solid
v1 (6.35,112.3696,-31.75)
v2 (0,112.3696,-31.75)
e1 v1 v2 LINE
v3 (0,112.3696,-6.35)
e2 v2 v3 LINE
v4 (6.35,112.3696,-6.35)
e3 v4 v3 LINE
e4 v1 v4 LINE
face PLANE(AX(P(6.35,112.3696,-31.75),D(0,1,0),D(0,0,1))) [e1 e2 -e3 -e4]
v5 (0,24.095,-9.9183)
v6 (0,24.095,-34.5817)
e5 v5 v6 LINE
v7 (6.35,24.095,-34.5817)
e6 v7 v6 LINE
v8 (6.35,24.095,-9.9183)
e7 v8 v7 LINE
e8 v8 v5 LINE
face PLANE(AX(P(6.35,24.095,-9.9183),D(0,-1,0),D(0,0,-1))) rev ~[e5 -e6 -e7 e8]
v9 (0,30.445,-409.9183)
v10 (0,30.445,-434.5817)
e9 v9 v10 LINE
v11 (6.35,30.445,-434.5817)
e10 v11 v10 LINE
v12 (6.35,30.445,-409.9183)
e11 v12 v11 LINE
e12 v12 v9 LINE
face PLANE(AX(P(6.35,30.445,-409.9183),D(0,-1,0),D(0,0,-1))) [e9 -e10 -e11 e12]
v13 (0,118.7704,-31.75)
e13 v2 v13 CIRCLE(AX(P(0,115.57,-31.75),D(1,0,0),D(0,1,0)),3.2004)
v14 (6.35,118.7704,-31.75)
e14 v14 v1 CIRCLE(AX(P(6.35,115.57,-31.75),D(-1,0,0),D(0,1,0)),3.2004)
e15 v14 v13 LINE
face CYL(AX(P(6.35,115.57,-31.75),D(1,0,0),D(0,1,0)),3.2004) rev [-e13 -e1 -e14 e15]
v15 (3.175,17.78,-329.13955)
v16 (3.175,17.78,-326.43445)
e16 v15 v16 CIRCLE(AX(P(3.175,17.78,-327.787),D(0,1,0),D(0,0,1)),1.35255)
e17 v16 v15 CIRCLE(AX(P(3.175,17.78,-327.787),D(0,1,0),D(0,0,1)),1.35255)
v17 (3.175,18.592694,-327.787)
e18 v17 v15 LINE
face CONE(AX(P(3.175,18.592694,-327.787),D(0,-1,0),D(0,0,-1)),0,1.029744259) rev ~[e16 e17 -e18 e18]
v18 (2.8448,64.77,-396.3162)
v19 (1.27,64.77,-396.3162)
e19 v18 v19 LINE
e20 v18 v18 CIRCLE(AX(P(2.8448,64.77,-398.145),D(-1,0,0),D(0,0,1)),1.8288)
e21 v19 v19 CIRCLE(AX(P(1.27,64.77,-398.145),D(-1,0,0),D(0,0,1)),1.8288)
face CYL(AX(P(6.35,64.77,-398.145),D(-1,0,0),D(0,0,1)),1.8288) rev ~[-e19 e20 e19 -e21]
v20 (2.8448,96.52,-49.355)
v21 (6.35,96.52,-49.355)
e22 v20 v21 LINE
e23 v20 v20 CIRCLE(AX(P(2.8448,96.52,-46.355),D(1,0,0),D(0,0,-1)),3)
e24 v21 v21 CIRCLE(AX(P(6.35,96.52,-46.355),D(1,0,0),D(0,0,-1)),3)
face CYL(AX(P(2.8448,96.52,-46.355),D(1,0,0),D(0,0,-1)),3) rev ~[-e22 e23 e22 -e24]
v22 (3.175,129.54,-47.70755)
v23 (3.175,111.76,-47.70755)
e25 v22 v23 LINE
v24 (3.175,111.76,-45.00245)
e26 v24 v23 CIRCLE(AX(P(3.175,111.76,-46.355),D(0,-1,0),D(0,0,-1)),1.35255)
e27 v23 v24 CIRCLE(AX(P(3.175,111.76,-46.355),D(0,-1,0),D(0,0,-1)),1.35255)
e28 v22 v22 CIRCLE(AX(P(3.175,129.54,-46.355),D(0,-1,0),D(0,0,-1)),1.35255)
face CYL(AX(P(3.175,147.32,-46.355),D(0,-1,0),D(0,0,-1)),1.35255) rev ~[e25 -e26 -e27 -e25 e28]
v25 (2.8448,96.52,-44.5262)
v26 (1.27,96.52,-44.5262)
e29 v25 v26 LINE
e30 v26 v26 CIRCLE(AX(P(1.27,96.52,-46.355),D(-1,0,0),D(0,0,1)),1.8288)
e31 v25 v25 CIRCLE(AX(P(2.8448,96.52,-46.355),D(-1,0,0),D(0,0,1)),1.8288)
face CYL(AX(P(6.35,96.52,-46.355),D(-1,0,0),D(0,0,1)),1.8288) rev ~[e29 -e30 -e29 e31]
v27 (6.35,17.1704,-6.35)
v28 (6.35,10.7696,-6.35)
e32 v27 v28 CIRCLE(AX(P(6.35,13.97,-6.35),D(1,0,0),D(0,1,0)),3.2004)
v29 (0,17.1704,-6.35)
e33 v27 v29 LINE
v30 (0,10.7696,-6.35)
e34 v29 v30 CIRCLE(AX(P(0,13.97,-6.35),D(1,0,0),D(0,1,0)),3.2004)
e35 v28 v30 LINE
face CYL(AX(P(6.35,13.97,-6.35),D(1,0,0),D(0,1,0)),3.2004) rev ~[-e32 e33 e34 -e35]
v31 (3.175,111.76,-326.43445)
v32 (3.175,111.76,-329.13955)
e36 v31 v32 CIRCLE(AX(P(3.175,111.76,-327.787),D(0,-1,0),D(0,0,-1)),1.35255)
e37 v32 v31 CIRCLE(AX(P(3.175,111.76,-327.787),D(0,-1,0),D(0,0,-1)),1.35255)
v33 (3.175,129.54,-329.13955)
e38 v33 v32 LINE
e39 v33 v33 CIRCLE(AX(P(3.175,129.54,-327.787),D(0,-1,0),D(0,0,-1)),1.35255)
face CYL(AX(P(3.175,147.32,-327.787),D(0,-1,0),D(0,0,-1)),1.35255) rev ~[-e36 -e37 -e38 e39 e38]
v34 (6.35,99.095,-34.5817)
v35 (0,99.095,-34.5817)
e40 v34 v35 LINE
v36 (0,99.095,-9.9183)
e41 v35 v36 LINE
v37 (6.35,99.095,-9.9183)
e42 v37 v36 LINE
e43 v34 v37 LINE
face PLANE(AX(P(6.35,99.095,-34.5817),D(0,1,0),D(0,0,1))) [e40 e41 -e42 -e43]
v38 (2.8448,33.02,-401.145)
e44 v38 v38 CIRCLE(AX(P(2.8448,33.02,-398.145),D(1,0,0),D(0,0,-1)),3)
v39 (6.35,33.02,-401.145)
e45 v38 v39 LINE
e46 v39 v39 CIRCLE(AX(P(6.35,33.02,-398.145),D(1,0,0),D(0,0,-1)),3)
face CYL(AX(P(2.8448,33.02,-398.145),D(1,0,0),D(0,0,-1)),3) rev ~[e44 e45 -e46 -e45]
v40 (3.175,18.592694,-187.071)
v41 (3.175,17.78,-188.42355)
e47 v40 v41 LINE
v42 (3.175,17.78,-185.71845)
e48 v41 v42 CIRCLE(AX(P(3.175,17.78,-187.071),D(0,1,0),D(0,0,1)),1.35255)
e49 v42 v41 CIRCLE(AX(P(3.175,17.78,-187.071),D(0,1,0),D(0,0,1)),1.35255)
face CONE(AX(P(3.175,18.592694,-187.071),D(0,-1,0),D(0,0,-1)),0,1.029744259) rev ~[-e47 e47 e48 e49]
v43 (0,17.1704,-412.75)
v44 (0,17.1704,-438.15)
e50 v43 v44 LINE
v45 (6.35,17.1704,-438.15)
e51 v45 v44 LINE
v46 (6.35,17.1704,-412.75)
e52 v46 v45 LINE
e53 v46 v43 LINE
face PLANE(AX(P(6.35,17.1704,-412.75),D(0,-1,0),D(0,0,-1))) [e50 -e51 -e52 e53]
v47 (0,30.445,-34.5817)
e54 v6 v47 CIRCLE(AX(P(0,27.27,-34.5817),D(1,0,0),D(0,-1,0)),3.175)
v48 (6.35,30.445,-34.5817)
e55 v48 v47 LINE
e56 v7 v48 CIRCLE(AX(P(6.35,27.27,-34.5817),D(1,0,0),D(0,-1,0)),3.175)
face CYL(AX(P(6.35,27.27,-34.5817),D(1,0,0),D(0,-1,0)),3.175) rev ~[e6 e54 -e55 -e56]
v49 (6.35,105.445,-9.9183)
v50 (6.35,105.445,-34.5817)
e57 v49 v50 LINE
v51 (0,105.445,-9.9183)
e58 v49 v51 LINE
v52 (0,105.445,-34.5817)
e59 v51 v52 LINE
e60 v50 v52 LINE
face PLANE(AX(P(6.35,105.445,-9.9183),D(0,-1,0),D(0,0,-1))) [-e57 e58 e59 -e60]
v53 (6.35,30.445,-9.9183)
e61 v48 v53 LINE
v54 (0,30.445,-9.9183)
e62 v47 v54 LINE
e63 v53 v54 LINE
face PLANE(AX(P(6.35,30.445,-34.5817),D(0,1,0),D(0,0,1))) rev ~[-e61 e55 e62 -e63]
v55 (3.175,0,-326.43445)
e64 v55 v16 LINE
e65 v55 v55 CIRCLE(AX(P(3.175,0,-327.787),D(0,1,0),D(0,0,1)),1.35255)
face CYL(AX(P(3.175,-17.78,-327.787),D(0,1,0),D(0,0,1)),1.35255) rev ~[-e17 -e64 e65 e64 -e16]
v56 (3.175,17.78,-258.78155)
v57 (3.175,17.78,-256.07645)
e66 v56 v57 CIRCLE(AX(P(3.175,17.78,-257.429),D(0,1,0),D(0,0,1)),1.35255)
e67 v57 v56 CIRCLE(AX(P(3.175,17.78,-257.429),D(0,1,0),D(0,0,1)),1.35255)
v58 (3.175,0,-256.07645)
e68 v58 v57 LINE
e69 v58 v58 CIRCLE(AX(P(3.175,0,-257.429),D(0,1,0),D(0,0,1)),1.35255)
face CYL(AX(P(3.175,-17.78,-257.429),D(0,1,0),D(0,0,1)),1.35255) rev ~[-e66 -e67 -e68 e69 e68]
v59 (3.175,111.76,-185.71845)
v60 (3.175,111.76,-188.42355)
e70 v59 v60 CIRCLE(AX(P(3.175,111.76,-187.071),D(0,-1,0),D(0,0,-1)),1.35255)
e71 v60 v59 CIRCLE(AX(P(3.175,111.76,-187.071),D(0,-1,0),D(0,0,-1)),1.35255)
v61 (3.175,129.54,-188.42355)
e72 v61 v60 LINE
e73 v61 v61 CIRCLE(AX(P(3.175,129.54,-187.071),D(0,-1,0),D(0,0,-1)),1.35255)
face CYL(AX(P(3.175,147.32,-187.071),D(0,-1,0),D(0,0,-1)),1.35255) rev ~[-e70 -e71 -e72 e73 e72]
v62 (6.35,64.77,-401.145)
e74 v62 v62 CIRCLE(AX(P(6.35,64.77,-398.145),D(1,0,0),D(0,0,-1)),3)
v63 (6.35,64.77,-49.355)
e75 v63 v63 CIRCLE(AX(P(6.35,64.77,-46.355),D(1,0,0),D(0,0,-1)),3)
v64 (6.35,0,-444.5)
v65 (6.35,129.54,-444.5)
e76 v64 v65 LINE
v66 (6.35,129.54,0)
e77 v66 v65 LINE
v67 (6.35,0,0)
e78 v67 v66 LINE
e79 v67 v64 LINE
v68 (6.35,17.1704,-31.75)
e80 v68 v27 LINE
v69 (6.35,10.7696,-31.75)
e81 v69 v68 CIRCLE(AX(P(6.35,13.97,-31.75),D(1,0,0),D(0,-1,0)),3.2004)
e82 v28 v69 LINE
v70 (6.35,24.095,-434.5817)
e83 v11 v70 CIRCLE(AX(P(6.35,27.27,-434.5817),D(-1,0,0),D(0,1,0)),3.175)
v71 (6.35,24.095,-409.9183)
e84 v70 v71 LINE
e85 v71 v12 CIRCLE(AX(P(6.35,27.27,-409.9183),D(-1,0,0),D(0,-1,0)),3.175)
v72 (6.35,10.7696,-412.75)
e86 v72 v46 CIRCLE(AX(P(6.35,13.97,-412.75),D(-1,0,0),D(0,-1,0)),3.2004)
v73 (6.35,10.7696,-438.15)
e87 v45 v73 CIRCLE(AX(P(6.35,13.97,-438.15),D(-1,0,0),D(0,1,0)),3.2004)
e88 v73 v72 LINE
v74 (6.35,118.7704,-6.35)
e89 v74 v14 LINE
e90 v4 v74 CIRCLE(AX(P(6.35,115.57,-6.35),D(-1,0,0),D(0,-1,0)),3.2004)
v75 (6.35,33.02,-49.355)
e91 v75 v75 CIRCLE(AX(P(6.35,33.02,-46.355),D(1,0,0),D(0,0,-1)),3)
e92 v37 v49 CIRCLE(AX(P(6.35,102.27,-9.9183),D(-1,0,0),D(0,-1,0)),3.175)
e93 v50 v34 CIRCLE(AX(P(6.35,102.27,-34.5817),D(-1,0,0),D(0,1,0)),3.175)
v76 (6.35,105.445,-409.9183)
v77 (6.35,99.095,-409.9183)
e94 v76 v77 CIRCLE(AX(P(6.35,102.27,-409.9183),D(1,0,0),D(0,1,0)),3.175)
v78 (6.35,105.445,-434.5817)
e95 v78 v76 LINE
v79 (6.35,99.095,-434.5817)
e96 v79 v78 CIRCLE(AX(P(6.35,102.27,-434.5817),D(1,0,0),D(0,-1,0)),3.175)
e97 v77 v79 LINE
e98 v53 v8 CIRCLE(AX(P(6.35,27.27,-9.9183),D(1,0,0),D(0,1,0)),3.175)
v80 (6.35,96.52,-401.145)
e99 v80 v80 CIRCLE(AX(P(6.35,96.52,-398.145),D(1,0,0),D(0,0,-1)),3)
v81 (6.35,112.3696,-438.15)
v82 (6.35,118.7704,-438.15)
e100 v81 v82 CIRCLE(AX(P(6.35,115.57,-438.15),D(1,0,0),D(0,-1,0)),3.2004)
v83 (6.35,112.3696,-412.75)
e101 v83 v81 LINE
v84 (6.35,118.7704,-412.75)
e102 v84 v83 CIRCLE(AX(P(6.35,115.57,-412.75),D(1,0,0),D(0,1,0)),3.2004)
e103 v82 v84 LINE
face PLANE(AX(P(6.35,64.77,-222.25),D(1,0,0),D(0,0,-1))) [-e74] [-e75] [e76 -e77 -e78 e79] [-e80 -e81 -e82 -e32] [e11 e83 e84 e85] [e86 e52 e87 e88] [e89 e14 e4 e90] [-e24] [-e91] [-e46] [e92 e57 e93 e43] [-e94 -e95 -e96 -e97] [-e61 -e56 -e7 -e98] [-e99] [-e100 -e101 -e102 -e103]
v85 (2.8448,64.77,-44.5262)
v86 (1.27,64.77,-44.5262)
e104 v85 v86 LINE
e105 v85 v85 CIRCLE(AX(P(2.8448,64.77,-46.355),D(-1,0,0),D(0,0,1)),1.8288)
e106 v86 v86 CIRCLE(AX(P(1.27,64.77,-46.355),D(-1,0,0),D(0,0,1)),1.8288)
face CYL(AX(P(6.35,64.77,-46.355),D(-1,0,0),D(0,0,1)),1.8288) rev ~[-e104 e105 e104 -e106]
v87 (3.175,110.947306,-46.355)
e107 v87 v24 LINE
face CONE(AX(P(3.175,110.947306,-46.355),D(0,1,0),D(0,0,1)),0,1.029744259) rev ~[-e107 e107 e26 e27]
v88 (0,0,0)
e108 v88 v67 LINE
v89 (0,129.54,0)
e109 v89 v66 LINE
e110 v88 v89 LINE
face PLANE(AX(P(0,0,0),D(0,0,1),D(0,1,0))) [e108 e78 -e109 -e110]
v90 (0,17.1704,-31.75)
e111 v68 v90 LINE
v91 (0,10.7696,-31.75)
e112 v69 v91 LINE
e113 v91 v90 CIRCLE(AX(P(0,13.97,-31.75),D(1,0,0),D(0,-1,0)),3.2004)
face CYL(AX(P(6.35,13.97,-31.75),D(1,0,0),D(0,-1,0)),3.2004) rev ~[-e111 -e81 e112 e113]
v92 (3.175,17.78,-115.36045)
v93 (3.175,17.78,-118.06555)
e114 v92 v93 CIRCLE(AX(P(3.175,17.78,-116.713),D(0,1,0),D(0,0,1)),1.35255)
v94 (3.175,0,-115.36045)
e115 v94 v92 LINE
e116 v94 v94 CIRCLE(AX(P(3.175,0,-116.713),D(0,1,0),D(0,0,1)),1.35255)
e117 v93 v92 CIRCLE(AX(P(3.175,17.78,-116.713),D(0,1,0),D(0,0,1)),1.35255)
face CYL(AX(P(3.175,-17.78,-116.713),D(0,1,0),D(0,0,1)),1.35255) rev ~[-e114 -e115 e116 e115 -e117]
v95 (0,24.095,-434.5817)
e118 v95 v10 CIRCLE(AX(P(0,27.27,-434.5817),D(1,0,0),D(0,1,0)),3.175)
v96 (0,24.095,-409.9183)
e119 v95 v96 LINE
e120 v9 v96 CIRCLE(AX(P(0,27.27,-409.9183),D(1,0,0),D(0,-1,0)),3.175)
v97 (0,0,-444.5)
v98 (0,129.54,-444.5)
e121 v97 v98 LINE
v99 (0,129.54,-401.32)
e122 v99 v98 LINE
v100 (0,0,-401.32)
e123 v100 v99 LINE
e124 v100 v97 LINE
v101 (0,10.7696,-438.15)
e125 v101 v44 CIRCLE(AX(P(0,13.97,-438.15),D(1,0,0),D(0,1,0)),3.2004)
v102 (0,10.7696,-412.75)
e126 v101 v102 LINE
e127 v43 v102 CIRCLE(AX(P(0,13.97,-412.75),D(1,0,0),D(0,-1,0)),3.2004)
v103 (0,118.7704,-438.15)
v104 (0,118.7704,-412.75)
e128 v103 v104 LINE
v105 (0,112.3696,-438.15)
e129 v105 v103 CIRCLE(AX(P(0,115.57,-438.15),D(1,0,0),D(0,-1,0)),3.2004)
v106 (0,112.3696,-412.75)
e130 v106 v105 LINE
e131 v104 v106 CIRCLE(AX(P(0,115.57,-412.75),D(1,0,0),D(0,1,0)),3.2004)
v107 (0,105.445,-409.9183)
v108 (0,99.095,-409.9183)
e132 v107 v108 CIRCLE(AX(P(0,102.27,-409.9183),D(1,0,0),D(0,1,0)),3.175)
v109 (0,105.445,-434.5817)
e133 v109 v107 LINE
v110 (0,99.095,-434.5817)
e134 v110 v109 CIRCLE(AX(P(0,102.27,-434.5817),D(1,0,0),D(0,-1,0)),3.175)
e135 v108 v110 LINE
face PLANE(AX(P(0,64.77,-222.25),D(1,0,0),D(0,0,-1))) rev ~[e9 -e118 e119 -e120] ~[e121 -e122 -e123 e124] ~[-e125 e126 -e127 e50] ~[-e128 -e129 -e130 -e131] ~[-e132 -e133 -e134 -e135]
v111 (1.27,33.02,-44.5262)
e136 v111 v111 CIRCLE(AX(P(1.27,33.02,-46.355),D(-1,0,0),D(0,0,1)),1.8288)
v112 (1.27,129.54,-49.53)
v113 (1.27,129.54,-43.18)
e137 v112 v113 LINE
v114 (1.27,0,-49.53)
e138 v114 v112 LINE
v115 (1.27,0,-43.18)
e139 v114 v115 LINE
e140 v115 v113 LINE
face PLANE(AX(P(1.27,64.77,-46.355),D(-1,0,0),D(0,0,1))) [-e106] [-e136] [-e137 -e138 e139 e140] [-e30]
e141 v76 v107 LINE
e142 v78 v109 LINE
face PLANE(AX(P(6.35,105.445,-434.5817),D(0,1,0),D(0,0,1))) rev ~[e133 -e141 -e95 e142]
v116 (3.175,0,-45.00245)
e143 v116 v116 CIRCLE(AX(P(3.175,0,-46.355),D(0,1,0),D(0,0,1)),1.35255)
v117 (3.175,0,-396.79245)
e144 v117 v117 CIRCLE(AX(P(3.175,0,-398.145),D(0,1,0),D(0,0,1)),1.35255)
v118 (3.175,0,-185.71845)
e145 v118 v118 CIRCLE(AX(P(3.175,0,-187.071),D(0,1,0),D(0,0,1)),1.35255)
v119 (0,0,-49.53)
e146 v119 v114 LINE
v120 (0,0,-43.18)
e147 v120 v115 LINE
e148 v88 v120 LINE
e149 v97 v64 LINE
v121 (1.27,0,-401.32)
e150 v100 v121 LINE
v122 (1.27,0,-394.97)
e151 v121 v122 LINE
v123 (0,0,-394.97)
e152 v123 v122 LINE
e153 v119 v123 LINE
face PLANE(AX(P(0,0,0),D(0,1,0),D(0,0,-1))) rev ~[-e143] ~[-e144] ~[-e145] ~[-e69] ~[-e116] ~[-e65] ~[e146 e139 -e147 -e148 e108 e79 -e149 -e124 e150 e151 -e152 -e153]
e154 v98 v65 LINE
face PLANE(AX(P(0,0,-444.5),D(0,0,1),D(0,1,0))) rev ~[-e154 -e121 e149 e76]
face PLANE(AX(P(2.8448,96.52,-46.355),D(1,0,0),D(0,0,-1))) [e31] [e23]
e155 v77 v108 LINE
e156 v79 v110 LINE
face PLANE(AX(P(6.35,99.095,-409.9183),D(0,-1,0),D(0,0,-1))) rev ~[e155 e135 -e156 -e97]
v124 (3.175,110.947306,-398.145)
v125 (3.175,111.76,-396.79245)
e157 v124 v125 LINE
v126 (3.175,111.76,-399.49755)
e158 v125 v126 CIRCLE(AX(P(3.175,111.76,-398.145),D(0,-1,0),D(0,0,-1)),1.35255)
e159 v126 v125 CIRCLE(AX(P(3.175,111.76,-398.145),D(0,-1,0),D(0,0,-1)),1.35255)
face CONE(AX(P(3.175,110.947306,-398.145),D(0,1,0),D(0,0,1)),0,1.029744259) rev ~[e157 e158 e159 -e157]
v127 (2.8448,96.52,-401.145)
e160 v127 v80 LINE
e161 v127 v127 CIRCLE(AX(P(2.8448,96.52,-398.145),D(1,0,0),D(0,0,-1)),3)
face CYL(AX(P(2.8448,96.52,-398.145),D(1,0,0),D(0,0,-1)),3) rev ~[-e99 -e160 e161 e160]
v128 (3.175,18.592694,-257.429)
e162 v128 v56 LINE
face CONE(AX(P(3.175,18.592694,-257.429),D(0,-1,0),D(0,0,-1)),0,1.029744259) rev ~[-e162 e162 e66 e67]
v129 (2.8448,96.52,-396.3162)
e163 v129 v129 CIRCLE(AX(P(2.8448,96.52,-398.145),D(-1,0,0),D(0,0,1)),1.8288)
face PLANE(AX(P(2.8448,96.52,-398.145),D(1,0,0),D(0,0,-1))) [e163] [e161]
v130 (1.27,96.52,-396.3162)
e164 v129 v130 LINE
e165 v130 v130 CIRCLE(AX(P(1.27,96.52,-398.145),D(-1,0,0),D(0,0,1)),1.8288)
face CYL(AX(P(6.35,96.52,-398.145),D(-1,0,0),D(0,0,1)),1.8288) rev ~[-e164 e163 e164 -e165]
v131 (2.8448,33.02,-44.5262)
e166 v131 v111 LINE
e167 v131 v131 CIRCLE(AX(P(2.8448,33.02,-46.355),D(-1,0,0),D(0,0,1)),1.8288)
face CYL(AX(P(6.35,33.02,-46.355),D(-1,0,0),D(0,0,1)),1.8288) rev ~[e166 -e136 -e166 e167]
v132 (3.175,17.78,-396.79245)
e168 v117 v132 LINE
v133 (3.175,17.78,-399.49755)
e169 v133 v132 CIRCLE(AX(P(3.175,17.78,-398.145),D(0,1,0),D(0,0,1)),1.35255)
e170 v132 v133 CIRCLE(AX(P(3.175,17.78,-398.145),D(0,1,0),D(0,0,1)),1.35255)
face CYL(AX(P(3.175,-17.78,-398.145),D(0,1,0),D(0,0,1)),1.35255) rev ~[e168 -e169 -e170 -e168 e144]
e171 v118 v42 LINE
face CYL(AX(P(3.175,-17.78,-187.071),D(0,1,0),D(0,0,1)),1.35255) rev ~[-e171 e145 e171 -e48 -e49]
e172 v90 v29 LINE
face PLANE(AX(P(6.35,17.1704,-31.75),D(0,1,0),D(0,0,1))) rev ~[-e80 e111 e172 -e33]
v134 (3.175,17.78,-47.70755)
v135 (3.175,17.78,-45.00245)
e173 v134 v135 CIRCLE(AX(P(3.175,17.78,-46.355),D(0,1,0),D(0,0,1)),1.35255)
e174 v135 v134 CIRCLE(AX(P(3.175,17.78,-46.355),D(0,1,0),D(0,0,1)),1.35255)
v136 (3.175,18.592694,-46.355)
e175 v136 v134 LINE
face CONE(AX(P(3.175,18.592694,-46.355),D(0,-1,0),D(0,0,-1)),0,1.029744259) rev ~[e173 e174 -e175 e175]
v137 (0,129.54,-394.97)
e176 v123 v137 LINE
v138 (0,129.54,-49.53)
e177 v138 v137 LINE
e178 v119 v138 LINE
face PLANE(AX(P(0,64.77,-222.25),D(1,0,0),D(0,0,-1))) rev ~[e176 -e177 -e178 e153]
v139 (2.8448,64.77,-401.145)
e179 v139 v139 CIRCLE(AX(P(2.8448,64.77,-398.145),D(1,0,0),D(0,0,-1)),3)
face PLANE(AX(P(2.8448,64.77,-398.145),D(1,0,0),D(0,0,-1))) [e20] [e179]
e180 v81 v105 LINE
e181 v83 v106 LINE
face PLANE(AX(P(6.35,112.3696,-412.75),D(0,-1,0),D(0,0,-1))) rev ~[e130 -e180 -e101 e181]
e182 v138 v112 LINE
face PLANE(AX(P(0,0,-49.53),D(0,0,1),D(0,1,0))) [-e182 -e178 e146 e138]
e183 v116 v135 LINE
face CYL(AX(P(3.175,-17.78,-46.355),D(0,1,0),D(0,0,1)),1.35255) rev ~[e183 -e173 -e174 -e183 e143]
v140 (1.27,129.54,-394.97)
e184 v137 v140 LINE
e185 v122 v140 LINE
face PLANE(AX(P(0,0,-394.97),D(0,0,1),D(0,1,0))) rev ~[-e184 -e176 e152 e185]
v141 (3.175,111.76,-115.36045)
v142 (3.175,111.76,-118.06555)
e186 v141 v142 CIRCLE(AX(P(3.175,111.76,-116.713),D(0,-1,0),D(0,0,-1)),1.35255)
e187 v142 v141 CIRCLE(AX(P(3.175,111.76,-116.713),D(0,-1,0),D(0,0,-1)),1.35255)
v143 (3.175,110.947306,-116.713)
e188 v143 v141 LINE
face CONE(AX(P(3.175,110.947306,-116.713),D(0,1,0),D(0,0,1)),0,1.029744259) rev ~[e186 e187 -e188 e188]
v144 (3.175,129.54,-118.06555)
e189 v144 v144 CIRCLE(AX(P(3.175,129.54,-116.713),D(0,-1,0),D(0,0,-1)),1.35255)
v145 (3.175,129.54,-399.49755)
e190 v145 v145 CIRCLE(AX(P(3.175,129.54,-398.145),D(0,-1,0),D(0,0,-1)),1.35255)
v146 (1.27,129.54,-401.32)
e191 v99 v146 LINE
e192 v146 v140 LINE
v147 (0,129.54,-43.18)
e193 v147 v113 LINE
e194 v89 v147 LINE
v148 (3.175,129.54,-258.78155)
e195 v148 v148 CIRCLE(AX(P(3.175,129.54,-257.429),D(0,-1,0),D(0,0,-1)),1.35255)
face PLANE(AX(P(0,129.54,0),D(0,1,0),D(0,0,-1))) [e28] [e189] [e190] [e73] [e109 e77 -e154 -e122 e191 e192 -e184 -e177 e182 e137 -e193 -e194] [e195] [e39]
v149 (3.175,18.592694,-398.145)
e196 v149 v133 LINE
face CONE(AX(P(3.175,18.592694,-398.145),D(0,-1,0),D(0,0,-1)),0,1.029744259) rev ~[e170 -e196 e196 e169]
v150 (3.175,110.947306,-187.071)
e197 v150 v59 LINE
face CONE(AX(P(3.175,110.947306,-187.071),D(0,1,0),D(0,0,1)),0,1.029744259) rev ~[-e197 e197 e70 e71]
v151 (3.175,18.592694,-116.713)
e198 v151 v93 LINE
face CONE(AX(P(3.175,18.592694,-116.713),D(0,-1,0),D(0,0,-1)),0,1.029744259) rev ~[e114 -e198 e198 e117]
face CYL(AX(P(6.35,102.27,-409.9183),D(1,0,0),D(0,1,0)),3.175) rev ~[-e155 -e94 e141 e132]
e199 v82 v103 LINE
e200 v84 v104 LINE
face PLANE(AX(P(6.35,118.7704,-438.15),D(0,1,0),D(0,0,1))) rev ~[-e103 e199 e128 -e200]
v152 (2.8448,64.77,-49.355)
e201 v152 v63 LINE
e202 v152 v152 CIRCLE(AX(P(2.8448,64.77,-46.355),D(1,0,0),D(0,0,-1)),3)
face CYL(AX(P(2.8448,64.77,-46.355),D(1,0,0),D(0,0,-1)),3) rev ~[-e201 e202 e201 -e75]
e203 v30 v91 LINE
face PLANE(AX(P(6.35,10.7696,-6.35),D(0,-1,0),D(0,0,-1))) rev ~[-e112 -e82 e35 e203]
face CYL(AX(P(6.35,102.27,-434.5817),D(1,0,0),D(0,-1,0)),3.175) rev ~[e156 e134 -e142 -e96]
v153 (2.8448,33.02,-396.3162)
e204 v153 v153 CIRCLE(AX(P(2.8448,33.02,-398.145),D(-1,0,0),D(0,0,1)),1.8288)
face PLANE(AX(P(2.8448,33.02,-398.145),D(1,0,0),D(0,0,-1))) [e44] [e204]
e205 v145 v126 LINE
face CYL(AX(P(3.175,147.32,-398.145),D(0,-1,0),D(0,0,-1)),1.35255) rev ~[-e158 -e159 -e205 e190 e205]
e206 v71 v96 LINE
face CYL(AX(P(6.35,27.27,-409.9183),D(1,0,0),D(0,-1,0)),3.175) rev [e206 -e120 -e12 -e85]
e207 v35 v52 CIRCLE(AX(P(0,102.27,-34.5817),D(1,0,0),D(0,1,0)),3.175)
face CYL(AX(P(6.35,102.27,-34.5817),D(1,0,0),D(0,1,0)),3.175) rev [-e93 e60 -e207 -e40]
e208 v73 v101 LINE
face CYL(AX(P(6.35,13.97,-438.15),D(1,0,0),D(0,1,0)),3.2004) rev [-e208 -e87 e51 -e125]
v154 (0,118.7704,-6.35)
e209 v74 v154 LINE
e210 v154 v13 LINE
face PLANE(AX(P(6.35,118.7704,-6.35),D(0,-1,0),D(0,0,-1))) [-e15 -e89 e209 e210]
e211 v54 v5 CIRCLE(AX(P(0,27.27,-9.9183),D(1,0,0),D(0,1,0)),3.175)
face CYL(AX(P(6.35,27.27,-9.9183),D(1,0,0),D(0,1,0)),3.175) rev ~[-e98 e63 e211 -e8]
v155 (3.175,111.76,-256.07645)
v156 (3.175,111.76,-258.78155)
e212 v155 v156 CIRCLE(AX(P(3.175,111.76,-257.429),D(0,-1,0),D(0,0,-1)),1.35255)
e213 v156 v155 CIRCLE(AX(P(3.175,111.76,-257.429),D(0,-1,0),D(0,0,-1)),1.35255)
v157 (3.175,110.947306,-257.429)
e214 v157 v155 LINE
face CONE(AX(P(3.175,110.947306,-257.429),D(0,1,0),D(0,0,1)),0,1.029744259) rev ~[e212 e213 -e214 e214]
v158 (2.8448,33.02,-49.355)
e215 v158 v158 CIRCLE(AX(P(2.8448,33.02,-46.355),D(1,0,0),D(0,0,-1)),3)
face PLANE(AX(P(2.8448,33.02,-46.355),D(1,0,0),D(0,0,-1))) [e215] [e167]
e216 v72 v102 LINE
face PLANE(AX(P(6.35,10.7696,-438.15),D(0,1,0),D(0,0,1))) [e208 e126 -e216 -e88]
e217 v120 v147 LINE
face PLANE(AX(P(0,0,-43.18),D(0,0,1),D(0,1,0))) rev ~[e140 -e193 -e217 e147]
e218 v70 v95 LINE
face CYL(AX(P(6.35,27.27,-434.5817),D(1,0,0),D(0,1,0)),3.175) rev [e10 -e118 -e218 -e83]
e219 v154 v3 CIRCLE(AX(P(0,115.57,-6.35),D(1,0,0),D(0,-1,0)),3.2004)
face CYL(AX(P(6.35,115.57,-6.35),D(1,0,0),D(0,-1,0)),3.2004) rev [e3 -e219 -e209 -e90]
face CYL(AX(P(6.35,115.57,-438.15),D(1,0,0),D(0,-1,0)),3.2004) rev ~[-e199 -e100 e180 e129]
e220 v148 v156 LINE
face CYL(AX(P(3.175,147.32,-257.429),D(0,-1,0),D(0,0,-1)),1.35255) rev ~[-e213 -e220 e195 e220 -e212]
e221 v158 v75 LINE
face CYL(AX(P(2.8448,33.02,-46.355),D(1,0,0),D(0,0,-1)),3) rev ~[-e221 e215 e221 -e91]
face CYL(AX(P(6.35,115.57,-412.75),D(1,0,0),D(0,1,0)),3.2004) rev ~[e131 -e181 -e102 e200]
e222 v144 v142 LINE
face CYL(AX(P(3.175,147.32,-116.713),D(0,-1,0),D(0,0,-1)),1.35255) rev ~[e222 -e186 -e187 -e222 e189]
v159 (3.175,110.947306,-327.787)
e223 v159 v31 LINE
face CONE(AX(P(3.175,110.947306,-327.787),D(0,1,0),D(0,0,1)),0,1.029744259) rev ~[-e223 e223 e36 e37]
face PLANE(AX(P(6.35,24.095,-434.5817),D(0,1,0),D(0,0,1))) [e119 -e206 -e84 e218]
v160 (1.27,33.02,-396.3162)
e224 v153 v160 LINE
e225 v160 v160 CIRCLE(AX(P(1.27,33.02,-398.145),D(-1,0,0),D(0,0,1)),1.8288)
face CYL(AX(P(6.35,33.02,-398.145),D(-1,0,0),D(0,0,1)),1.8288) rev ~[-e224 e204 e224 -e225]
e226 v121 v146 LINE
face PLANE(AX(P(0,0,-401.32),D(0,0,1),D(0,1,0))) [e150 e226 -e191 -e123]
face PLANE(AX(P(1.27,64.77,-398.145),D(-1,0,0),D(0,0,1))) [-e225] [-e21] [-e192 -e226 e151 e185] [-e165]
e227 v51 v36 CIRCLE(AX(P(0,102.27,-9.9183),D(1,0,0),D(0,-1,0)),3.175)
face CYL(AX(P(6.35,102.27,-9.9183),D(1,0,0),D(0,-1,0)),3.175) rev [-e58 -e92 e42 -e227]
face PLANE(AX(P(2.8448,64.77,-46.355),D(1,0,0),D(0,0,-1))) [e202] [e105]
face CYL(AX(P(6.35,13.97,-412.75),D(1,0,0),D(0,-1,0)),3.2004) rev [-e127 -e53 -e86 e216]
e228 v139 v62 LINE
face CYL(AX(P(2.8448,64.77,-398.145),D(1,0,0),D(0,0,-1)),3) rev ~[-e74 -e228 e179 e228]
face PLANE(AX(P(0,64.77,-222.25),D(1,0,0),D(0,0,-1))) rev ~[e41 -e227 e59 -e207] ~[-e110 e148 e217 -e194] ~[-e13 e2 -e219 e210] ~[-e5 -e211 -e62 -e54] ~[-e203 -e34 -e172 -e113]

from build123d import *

# Parameters (mm, degrees)
SKETCH1_W                                      = 444.5
SKETCH1_H                                      = 129.54
BOSS_EXTRUDE1_DEPTH                            = 6.35
CBORE_FOR_6_SOCKET_HEAD_CAP_SCREW1_D           = 3.6576
CBORE_FOR_6_SOCKET_HEAD_CAP_SCREW1_CBORE_D     = 5.999999938
CBORE_FOR_6_SOCKET_HEAD_CAP_SCREW1_CBORE_DEPTH = 3.5052
CUT_EXTRUDE1_DEPTH                             = 7.35
TAP_DRILL_FOR_6_32_TAP1_D                      = 2.7051
TAP_DRILL_FOR_6_32_TAP1_DEPTH                  = 17.78
TAP_DRILL_FOR_6_32_TAP1_TIP                    = 0.81269403
TAP_DRILL_FOR_6_32_TAP2_D                      = 2.7051
TAP_DRILL_FOR_6_32_TAP2_DEPTH                  = 17.78
TAP_DRILL_FOR_6_32_TAP2_TIP                    = 0.81269403
SKETCH21_W                                     = 6.35
SKETCH21_H                                     = 129.54
CUT_EXTRUDE2_DEPTH                             = 1.27


with BuildPart() as part:
    # Sketch1 → Boss-Extrude1 (new body)
    with BuildSketch(Plane(origin=(0, 0, 0), x_dir=(0, 0, -1), z_dir=(1, 0, 0))):
        with Locations((222.25, 64.77)):
            Rectangle(SKETCH1_W, SKETCH1_H)
    extrude(amount=BOSS_EXTRUDE1_DEPTH)

    # CBORE for #6 Socket Head Cap Screw1 (through all)
    with Locations(Plane(origin=(6.35, 0, 0), x_dir=(0, 0, -1), z_dir=(1, 0, 0))):
        with Locations((46.355, 64.77), (398.145, 64.77), (46.355, 96.52), (46.355, 33.02), (398.145, 96.52), (398.145, 33.02)):
            CounterBoreHole(CBORE_FOR_6_SOCKET_HEAD_CAP_SCREW1_D / 2, CBORE_FOR_6_SOCKET_HEAD_CAP_SCREW1_CBORE_D / 2, CBORE_FOR_6_SOCKET_HEAD_CAP_SCREW1_CBORE_DEPTH)

    # Sketch16 → Cut-Extrude1 (cut, through all)
    with BuildSketch(Plane(origin=(6.35, 0, 0), x_dir=(0, 0, -1), z_dir=(1, 0, 0))):
        with BuildLine():
            Line((6.35, 118.7704), (31.75, 118.7704))
            ThreePointArc((31.75, 118.7704), (34.9504, 115.57), (31.75, 112.3696))
            Line((31.75, 112.3696), (6.35, 112.3696))
            ThreePointArc((6.35, 112.3696), (3.1496, 115.57), (6.35, 118.7704))
        make_face()
        with BuildLine():
            Line((434.5817, 24.095), (409.9183, 24.095))
            ThreePointArc((409.9183, 24.095), (406.7433, 27.27), (409.9183, 30.445))
            Line((409.9183, 30.445), (434.5817, 30.445))
            ThreePointArc((434.5817, 30.445), (437.7567, 27.27), (434.5817, 24.095))
        make_face()
        with BuildLine():
            Line((434.5817, 105.445), (409.9183, 105.445))
            ThreePointArc((409.9183, 105.445), (406.7433, 102.27), (409.9183, 99.095))
            Line((409.9183, 99.095), (434.5817, 99.095))
            ThreePointArc((434.5817, 99.095), (437.7567, 102.27), (434.5817, 105.445))
        make_face()
        with BuildLine():
            Line((6.35, 10.7696), (31.75, 10.7696))
            ThreePointArc((31.75, 10.7696), (34.9504, 13.97), (31.75, 17.1704))
            Line((31.75, 17.1704), (6.35, 17.1704))
            ThreePointArc((6.35, 17.1704), (3.1496, 13.97), (6.35, 10.7696))
        make_face()
        with BuildLine():
            Line((438.15, 118.7704), (412.75, 118.7704))
            ThreePointArc((412.75, 118.7704), (409.5496, 115.57), (412.75, 112.3696))
            Line((412.75, 112.3696), (438.15, 112.3696))
            ThreePointArc((438.15, 112.3696), (441.3504, 115.57), (438.15, 118.7704))
        make_face()
        with BuildLine():
            Line((9.9183, 105.445), (34.5817, 105.445))
            ThreePointArc((34.5817, 105.445), (37.7567, 102.27), (34.5817, 99.095))
            Line((34.5817, 99.095), (9.9183, 99.095))
            ThreePointArc((9.9183, 99.095), (6.7433, 102.27), (9.9183, 105.445))
        make_face()
        with BuildLine():
            Line((9.9183, 24.095), (34.5817, 24.095))
            ThreePointArc((34.5817, 24.095), (37.7567, 27.27), (34.5817, 30.445))
            Line((34.5817, 30.445), (9.9183, 30.445))
            ThreePointArc((9.9183, 30.445), (6.7433, 27.27), (9.9183, 24.095))
        make_face()
        with BuildLine():
            Line((438.15, 10.7696), (412.75, 10.7696))
            ThreePointArc((412.75, 10.7696), (409.5496, 13.97), (412.75, 17.1704))
            Line((412.75, 17.1704), (438.15, 17.1704))
            ThreePointArc((438.15, 17.1704), (441.3504, 13.97), (438.15, 10.7696))
        make_face()
    extrude(amount=-CUT_EXTRUDE1_DEPTH, mode=Mode.SUBTRACT)

    # Tap Drill for #6-32 Tap1
    with Locations(Plane(origin=(62.747088364, 129.54, -312.392951164), x_dir=(0, 0, 1), z_dir=(0, 1, 0))):
        with Locations((-85.752048836, -59.572088364), (-15.394048836, -59.572088364), (54.963951164, -59.572088364), (125.321951164, -59.572088364), (195.679951164, -59.572088364), (266.037951164, -59.572088364), (266.037951164, -129.930088364), (266.037951164, -200.288088364), (266.037951164, -270.646088364), (266.037951164, -341.004088364), (266.037951164, -411.362088364), (195.679951164, -411.362088364), (125.321951164, -411.362088364), (54.963951164, -411.362088364), (-15.394048836, -411.362088364), (-85.752048836, -411.362088364), (-85.752048836, -341.004088364), (-85.752048836, -270.646088364), (-85.752048836, -200.288088364), (-85.752048836, -129.930088364)):
            Hole(TAP_DRILL_FOR_6_32_TAP1_D / 2, depth=TAP_DRILL_FOR_6_32_TAP1_DEPTH)
            with Locations((0, 0, -(TAP_DRILL_FOR_6_32_TAP1_DEPTH + TAP_DRILL_FOR_6_32_TAP1_TIP / 2))):  # 118° drill point
                Cone(0, TAP_DRILL_FOR_6_32_TAP1_D / 2, TAP_DRILL_FOR_6_32_TAP1_TIP, mode=Mode.SUBTRACT)

    # Tap Drill for #6-32 Tap2
    with Locations(Plane(origin=(62.747088364, 0, -312.392951164), x_dir=(0, 0, -1), z_dir=(0, -1, 0))):
        with Locations((85.752048836, -411.362088364), (15.394048836, -411.362088364), (-54.963951164, -411.362088364), (-125.321951164, -411.362088364), (-195.679951164, -411.362088364), (-266.037951164, -411.362088364), (-266.037951164, -341.004088364), (-266.037951164, -270.646088364), (-266.037951164, -200.288088364), (-266.037951164, -129.930088364), (-266.037951164, -59.572088364), (-195.679951164, -59.572088364), (-125.321951164, -59.572088364), (-54.963951164, -59.572088364), (15.394048836, -59.572088364), (85.752048836, -59.572088364), (85.752048836, -130.006288364), (85.752048836, -200.364288364), (85.752048836, -270.722288364), (85.752048836, -341.080288364)):
            Hole(TAP_DRILL_FOR_6_32_TAP2_D / 2, depth=TAP_DRILL_FOR_6_32_TAP2_DEPTH)
            with Locations((0, 0, -(TAP_DRILL_FOR_6_32_TAP2_DEPTH + TAP_DRILL_FOR_6_32_TAP2_TIP / 2))):  # 118° drill point
                Cone(0, TAP_DRILL_FOR_6_32_TAP2_D / 2, TAP_DRILL_FOR_6_32_TAP2_TIP, mode=Mode.SUBTRACT)

    # Sketch21 → Cut-Extrude2 (cut)
    with BuildSketch(Plane.ZY):
        with Locations((-398.145, 64.77)):
            Rectangle(SKETCH21_W, SKETCH21_H)
        with Locations((-46.355, 64.77)):
            Rectangle(SKETCH21_W, SKETCH21_H)
    extrude(amount=-CUT_EXTRUDE2_DEPTH, mode=Mode.SUBTRACT)


solid = part.part
